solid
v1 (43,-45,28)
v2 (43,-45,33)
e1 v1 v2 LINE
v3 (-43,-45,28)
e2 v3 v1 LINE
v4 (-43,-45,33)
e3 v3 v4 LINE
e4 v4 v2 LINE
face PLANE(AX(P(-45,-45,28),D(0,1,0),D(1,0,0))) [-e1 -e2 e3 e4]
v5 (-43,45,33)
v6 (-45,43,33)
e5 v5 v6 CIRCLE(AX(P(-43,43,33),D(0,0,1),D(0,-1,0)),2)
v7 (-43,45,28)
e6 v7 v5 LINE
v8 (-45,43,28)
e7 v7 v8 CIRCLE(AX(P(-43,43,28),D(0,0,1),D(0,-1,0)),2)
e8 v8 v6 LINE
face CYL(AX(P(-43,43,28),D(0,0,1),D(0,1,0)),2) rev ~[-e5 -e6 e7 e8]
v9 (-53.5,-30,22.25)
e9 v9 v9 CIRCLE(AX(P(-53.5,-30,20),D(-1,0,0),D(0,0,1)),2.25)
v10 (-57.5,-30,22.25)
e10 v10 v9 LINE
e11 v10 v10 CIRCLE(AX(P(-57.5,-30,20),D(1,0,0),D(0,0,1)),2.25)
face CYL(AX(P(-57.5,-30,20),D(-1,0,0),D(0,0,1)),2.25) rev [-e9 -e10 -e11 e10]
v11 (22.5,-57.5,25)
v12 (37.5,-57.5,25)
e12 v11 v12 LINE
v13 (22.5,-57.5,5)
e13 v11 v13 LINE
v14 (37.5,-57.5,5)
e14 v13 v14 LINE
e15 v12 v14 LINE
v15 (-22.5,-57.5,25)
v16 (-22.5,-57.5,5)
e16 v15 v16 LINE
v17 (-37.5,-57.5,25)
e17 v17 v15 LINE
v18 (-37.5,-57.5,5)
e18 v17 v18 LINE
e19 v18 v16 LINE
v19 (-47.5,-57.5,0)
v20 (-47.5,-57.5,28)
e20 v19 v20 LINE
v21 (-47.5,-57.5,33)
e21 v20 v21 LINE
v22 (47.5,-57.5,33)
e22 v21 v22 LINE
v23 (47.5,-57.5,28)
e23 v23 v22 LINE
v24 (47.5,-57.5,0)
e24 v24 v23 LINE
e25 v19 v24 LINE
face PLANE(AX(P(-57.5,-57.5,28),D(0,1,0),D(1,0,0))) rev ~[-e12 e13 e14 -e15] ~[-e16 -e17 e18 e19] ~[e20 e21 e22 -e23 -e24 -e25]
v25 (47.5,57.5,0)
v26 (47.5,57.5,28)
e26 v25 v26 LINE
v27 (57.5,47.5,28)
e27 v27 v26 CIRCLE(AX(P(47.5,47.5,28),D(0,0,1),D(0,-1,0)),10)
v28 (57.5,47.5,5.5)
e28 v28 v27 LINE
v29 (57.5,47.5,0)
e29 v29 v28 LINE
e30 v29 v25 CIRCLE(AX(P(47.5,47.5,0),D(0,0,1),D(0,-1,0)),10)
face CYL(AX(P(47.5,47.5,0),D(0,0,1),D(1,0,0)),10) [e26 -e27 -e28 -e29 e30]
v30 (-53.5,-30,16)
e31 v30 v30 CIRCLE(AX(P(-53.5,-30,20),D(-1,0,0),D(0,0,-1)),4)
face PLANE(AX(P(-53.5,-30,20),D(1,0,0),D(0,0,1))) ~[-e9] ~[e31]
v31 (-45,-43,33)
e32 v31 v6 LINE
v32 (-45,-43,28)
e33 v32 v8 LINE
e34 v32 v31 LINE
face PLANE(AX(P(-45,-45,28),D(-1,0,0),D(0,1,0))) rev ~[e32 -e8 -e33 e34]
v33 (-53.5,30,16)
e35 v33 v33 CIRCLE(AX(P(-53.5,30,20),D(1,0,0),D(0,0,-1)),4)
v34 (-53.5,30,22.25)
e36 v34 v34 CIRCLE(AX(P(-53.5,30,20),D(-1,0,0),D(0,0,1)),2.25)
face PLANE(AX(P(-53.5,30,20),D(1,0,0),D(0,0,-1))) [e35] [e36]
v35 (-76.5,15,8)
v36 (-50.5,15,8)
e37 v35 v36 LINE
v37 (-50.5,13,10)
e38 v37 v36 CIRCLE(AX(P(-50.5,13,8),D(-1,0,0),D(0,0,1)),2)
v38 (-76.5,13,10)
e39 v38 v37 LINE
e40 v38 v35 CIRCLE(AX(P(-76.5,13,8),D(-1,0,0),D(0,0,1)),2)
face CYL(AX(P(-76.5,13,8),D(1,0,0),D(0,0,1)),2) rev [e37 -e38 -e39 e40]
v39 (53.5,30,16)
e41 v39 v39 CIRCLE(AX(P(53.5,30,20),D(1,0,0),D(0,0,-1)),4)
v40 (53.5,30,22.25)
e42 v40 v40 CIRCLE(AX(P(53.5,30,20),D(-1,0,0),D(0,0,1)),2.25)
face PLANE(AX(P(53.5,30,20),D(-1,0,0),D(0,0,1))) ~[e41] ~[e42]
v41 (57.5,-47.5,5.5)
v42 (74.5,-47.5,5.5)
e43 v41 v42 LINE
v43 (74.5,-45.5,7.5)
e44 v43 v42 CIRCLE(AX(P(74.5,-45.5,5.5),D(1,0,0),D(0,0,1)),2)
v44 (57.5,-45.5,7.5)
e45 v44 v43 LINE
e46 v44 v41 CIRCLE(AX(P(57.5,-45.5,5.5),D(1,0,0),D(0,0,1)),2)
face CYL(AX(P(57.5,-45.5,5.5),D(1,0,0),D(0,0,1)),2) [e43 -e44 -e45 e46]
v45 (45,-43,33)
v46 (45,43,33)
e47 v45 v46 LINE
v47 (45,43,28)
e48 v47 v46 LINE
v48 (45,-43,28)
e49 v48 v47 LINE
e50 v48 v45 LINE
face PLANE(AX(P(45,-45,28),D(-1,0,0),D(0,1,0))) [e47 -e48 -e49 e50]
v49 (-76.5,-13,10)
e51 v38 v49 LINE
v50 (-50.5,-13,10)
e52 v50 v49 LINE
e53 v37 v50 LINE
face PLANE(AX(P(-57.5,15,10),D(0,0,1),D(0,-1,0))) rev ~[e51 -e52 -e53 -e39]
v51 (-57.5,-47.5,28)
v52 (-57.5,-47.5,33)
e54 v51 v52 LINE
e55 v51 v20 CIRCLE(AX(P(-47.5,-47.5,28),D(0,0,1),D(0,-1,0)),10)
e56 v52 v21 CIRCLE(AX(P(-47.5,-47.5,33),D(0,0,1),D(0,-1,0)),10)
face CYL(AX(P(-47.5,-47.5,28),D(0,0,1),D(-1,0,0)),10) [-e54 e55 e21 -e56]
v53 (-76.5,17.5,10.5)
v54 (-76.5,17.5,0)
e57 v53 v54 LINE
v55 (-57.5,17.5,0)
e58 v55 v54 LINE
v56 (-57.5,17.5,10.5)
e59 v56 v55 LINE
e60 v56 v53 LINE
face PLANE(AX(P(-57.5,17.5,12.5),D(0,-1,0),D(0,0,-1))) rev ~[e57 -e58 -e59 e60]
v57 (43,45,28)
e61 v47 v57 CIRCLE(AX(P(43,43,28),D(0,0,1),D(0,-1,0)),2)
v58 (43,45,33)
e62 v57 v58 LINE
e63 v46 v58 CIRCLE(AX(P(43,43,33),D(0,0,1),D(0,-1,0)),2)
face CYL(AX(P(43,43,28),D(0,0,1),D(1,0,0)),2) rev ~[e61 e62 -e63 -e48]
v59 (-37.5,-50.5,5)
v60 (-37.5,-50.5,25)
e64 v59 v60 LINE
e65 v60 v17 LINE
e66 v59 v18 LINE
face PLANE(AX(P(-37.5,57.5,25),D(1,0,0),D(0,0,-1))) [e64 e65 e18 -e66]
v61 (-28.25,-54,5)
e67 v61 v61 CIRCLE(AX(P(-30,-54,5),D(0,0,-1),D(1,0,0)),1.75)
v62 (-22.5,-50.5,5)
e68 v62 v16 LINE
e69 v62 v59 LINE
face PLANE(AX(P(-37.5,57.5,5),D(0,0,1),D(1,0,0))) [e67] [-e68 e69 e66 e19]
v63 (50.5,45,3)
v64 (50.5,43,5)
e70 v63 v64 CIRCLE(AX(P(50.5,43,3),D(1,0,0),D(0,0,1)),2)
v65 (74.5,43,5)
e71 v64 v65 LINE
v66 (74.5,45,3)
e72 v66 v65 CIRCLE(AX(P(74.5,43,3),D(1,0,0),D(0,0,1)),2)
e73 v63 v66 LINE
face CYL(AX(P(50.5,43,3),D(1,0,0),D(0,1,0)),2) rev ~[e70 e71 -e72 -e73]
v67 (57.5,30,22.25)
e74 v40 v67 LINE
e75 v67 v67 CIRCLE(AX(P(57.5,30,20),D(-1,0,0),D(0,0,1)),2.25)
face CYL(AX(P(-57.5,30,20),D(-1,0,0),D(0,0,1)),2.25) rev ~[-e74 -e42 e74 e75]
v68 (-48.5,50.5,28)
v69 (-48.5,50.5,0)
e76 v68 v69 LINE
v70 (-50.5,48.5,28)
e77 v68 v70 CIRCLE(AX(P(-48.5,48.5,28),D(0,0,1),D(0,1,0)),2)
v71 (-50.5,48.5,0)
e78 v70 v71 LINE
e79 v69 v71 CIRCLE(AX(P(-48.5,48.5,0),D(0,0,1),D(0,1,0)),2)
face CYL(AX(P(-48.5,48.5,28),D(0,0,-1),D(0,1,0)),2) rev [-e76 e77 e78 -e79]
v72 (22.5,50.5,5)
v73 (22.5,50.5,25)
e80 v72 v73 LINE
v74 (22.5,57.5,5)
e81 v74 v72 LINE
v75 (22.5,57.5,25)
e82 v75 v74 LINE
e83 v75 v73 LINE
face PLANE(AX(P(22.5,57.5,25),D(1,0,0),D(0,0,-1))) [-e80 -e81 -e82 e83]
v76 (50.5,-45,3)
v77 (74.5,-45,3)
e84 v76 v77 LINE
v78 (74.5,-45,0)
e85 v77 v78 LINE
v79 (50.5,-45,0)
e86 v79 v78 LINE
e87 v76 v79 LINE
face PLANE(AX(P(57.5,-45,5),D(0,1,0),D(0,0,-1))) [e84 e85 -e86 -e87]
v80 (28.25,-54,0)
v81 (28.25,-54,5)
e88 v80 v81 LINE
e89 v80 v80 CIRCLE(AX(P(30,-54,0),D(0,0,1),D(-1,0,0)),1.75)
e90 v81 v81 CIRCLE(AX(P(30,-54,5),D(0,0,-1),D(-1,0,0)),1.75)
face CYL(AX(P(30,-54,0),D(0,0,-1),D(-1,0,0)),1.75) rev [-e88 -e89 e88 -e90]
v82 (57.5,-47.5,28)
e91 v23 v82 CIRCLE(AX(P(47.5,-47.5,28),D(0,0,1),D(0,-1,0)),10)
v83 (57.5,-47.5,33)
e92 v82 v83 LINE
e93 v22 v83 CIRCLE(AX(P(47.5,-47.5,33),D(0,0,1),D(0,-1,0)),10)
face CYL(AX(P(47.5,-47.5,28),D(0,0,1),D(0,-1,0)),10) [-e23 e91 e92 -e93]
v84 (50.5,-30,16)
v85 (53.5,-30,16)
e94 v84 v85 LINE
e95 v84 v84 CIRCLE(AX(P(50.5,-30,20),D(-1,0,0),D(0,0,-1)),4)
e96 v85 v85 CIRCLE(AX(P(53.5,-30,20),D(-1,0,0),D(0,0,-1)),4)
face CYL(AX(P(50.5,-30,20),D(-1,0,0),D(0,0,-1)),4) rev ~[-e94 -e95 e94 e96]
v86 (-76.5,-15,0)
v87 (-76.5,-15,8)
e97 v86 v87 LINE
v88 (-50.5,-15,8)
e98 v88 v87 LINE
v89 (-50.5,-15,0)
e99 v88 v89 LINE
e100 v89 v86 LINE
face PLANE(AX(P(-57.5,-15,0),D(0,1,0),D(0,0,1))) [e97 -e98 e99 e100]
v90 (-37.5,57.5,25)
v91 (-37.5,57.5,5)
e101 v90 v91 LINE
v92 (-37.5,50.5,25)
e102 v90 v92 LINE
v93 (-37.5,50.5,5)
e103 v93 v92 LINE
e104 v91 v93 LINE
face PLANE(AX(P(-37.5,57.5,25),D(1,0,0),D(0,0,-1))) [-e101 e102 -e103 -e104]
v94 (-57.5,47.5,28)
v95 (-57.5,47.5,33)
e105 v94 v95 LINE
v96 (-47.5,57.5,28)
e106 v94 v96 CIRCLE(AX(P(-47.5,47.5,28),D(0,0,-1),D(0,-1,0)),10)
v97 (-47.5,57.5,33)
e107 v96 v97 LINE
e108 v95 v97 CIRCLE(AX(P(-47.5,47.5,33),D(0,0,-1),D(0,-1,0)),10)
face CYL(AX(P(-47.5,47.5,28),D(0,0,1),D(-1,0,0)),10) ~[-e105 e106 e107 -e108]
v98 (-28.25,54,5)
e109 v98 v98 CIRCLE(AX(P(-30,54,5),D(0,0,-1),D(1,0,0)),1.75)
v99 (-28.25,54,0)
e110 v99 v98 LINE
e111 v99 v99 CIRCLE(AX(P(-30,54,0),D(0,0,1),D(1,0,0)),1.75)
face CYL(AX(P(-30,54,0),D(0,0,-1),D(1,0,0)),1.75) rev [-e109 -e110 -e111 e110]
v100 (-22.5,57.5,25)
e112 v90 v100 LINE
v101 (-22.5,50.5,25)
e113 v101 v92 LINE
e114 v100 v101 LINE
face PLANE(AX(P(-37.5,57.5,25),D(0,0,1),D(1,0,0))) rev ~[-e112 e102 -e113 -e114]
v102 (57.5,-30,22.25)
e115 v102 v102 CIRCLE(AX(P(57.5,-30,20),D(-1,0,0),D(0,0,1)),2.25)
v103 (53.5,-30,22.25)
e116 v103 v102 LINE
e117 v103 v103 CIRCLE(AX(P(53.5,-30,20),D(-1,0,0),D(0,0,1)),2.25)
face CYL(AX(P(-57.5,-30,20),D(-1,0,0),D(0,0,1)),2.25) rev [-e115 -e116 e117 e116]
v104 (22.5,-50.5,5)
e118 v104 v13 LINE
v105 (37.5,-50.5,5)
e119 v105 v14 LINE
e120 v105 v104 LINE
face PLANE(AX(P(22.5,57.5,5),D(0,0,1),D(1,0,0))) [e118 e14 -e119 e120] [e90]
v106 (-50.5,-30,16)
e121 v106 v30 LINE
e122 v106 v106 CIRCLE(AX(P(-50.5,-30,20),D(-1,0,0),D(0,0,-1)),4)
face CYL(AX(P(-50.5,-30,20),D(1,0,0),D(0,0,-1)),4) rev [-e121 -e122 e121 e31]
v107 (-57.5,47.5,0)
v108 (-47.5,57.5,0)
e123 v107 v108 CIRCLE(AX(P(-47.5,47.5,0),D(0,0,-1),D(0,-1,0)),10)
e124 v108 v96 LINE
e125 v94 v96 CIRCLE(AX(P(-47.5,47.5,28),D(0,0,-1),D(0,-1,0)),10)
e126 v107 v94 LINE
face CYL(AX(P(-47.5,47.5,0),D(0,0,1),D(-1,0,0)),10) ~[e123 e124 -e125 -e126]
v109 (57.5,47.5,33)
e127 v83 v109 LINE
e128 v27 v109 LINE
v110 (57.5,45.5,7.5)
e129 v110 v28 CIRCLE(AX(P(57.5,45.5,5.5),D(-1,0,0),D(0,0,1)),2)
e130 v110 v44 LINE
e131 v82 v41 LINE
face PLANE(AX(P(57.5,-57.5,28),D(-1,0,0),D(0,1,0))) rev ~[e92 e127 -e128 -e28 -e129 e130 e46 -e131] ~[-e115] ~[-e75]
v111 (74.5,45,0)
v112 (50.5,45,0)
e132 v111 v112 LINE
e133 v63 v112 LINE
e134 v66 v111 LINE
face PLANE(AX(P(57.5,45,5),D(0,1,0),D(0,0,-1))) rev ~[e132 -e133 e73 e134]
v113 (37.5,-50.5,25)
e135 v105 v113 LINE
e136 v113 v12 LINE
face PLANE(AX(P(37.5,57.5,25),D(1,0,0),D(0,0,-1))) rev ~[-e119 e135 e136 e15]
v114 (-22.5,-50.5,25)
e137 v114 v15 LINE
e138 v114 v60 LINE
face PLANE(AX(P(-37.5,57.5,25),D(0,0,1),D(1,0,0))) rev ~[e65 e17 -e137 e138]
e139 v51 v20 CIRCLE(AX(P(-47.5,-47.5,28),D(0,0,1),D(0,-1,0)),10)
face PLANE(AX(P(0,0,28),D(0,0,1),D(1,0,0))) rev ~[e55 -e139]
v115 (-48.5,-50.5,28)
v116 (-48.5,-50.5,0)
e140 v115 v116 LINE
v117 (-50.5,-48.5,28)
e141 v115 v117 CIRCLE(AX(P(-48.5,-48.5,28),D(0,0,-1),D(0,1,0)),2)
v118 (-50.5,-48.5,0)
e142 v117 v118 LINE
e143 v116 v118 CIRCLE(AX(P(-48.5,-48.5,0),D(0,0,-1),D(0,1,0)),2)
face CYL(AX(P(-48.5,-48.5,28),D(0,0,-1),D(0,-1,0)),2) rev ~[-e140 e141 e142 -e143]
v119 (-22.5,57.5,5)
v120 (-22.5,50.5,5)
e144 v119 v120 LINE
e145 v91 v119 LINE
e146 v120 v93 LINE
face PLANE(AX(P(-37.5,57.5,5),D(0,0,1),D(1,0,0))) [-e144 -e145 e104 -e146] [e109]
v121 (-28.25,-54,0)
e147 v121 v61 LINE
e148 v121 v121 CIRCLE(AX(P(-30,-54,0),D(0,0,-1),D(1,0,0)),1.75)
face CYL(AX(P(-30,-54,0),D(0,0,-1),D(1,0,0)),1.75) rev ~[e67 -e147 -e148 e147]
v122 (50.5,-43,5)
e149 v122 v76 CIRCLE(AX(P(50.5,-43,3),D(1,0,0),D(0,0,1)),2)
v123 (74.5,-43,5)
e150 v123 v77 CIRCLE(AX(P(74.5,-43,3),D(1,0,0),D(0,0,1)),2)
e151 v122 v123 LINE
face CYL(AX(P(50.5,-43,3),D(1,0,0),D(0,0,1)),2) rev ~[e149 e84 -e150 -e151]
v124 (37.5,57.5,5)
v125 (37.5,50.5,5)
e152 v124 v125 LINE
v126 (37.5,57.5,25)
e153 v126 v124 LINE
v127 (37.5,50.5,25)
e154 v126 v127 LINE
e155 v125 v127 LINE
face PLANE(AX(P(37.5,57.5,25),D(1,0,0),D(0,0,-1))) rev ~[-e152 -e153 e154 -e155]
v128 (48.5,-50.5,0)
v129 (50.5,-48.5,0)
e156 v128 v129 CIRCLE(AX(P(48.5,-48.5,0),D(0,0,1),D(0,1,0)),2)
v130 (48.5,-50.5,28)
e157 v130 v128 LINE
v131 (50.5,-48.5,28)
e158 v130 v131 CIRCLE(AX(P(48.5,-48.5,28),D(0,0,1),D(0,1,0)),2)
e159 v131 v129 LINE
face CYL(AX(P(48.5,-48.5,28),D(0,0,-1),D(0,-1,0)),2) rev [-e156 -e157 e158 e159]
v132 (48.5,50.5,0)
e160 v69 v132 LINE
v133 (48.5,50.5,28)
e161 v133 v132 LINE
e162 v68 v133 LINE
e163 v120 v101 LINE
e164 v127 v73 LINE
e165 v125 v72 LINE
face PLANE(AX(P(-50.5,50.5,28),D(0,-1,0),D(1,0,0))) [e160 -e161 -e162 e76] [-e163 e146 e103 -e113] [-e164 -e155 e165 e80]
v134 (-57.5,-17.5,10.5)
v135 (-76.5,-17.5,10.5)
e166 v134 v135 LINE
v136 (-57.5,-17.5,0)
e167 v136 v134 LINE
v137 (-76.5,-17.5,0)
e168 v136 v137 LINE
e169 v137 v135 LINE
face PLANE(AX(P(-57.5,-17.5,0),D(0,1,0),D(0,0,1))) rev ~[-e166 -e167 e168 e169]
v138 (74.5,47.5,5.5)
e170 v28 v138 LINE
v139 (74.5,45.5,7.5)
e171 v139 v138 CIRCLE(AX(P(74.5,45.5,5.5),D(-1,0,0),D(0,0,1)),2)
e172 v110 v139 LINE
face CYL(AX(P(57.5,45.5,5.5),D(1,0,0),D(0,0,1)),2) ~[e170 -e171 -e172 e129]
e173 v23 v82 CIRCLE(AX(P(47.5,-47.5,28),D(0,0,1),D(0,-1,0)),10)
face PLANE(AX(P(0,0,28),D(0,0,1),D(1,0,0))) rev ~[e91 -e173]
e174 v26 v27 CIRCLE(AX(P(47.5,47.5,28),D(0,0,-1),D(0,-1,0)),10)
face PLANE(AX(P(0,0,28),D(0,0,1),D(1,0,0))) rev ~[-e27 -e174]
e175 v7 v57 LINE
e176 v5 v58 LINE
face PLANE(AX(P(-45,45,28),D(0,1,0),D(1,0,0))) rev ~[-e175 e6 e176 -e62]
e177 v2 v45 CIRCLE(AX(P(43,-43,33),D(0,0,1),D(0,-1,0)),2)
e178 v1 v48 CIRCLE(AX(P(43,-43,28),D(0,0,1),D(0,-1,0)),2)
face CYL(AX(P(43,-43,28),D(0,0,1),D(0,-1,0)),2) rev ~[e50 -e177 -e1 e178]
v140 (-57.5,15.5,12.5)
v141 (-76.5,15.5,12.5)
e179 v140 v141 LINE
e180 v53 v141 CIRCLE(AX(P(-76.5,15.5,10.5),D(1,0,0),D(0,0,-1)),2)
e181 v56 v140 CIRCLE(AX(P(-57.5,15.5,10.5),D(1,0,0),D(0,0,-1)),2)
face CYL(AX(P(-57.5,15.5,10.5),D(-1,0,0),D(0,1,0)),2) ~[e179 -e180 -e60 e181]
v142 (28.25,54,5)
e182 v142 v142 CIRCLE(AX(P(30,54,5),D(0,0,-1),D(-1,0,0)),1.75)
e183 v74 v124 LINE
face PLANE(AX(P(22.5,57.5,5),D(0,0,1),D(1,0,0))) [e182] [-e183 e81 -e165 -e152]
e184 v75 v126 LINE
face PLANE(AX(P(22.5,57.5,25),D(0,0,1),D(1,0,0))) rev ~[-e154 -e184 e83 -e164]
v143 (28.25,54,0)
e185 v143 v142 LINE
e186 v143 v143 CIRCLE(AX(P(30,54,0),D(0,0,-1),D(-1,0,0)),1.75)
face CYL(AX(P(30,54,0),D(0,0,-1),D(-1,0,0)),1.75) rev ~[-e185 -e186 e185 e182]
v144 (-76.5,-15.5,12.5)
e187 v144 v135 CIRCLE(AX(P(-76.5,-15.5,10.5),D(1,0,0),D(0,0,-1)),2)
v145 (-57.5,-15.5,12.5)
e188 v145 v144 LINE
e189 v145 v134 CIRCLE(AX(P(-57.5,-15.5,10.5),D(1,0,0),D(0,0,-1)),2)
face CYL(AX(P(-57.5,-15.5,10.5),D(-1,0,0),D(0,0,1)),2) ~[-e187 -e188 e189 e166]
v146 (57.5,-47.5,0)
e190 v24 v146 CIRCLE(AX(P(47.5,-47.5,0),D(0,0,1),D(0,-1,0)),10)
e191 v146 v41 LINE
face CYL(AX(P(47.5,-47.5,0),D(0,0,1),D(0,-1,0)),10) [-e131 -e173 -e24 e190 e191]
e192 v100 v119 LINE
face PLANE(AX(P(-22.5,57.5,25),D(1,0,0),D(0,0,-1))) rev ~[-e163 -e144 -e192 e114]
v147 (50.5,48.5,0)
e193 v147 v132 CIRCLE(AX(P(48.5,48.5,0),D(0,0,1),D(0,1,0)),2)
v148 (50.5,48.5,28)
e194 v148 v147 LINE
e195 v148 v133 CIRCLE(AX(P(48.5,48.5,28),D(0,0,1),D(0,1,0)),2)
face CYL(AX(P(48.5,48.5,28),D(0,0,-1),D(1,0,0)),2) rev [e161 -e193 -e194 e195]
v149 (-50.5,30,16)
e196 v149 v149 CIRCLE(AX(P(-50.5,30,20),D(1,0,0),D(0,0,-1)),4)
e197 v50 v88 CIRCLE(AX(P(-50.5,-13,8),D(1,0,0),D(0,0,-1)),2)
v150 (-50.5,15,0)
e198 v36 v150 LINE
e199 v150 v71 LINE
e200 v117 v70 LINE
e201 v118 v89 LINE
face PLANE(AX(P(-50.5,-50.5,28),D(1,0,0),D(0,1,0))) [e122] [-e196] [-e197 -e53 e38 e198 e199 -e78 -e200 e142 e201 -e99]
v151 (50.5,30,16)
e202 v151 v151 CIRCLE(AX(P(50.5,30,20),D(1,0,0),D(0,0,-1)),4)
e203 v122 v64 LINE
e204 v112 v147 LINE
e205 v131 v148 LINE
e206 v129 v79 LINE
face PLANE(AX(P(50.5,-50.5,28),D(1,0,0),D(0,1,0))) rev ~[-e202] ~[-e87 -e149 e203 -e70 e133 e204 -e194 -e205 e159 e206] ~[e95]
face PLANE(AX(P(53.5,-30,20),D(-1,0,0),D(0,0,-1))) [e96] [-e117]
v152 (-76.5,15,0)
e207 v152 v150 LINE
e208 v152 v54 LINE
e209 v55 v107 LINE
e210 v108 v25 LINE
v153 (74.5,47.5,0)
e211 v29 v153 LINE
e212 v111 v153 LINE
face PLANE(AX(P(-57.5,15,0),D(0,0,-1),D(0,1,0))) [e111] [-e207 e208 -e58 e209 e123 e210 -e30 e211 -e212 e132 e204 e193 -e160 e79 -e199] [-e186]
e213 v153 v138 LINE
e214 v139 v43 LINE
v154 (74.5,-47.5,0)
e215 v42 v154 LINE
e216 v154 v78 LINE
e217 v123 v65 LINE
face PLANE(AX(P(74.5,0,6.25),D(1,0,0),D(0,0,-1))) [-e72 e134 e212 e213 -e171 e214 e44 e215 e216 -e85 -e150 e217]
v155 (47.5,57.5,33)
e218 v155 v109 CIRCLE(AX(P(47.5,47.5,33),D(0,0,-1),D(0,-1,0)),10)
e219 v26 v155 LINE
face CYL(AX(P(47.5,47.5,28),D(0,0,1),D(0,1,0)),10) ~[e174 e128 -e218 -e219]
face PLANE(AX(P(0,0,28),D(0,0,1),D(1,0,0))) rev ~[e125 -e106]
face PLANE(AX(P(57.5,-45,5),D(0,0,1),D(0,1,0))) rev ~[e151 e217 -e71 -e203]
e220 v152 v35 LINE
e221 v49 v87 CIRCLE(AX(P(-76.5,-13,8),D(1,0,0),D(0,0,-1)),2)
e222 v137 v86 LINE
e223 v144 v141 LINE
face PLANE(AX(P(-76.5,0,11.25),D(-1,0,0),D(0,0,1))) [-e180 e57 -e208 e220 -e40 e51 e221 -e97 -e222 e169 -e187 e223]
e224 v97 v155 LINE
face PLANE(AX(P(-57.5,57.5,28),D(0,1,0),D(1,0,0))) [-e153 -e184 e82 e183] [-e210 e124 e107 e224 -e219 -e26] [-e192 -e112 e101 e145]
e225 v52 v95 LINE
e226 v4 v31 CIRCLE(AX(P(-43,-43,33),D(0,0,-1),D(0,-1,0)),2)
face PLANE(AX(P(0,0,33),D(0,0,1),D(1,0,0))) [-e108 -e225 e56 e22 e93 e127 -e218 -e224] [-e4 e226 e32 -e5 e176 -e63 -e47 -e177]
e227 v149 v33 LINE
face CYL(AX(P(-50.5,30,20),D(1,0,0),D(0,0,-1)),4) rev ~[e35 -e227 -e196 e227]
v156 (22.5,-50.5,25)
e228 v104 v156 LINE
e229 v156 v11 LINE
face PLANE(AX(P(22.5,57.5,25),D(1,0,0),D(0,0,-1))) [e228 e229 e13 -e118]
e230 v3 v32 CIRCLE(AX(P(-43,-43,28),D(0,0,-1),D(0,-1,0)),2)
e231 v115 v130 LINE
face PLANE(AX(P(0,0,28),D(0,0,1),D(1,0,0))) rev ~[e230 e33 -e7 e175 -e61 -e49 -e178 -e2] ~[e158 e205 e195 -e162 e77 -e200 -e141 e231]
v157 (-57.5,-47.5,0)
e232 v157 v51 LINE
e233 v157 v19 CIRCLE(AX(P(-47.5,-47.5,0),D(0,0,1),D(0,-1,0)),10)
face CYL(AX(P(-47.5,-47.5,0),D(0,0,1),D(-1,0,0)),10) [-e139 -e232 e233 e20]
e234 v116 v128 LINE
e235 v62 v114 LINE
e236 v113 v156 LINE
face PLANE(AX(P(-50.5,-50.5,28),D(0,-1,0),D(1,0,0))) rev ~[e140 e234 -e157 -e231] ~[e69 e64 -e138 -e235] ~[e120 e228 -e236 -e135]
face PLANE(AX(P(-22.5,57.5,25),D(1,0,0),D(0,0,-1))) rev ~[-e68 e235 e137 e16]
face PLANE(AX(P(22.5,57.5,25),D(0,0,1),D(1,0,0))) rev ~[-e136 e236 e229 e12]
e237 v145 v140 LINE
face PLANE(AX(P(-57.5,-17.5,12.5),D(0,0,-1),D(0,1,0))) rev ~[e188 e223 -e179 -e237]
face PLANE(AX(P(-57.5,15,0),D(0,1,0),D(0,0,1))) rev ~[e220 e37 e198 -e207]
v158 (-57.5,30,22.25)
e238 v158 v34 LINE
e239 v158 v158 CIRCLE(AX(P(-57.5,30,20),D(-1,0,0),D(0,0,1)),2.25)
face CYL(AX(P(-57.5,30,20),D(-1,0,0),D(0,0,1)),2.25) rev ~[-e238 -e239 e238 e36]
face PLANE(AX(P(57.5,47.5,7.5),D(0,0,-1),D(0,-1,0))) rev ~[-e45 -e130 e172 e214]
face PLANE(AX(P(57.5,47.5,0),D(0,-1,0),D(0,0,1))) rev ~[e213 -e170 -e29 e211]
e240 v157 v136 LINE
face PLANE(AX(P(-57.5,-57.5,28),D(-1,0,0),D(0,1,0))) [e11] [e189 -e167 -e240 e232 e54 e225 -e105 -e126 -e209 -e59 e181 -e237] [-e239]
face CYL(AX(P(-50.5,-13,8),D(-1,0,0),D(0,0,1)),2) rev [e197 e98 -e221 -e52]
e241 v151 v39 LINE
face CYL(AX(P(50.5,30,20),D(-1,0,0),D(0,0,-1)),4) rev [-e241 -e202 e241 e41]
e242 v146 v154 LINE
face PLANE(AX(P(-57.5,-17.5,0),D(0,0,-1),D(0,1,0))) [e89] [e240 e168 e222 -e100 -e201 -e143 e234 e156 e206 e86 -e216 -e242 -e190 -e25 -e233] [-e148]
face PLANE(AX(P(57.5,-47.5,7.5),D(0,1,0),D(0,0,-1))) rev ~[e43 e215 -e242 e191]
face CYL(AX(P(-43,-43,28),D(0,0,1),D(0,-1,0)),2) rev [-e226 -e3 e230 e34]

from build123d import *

# Parameters (mm, degrees)
SKETCH1_W                                  = 115
SKETCH1_H                                  = 115
BOSS_EXTRUDE1_DEPTH                        = 28
FILLET1_R                                  = 10
SKETCH2_W                                  = 101
SKETCH2_H                                  = 101
CUT_EXTRUDE1_DEPTH                         = 30
FILLET2_R                                  = 2
SKETCH3_W                                  = 10
SKETCH3_H                                  = 90
CUT_EXTRUDE2_DEPTH                         = 30
SKETCH4_W                                  = 5
SKETCH4_H                                  = 2.5
BOSS_EXTRUDE2_DEPTH                        = 17
FILLET3_R                                  = 2
SKETCH5_W                                  = 20
SKETCH5_H                                  = 30
CUT_EXTRUDE3_DEPTH                         = 22
SKETCH6_W                                  = 10
SKETCH6_H                                  = 2.5
BOSS_EXTRUDE3_DEPTH                        = 19
FILLET4_R                                  = 2
SKETCH7_W                                  = 15
SKETCH7_H                                  = 20
CUT_EXTRUDE4_DEPTH                         = 120
SKETCH9_R                                  = 1.75
CUT_EXTRUDE6_DEPTH                         = 10
MIRROR2_AT_THE_SECOND_PLANE_COPY_1_SKETC_R = 1.75
MIRROR2_AT_THE_SECOND_PLANE_COPY_1_DEPTH   = 10
SKETCH11_R                                 = 2.25
CUT_EXTRUDE7_DEPTH                         = 125
SKETCH12_R                                 = 4
CUT_EXTRUDE8_DEPTH                         = 3
MIRROR4_AT_THE_SECOND_PLANE_COPY_1_SKETC_R = 4
MIRROR4_AT_THE_SECOND_PLANE_COPY_1_DEPTH   = 3
SKETCH14_W                                 = 115
SKETCH14_H                                 = 115
SKETCH14_W_2                               = 90
SKETCH14_H_2                               = 90
BOSS_EXTRUDE4_DEPTH                        = 5
FILLET5_R                                  = 10
FILLET6_R                                  = 2


with BuildPart() as part:
    # Sketch1 → Boss-Extrude1 (new body)
    with BuildSketch(Plane.XY):
        Rectangle(SKETCH1_W, SKETCH1_H)
    extrude(amount=BOSS_EXTRUDE1_DEPTH)

    # Fillet1
    fillet1_edges = [part.edges().sort_by_distance(p)[0] for p in [
        (-57.5, 57.5, 14),
        (57.5, 57.5, 14),
        (57.5, -57.5, 14),
        (-57.5, -57.5, 14),
    ]]
    fillet(fillet1_edges, radius=FILLET1_R)

    # Sketch2 → Cut-Extrude1 (cut)
    with BuildSketch(Plane.XY.offset(28)):
        Rectangle(SKETCH2_W, SKETCH2_H)
    extrude(amount=-CUT_EXTRUDE1_DEPTH, mode=Mode.SUBTRACT)

    # Fillet2
    fillet2_edges = [part.edges().sort_by_distance(p)[0] for p in [
        (-50.5, -50.5, 14),
        (-50.5, 50.5, 14),
        (50.5, 50.5, 14),
        (50.5, -50.5, 14),
    ]]
    fillet(fillet2_edges, radius=FILLET2_R)

    # Sketch3 → Cut-Extrude2 (cut)
    with BuildSketch(Plane(origin=(57.5, 0, 0), x_dir=(0, 0, -1), z_dir=(1, 0, 0))):
        Rectangle(SKETCH3_W, SKETCH3_H)
    extrude(amount=-CUT_EXTRUDE2_DEPTH, mode=Mode.SUBTRACT)

    # Sketch4 → Boss-Extrude2 (add)
    with BuildSketch(Plane(origin=(57.5, 0, 0), x_dir=(0, 0, -1), z_dir=(1, 0, 0))):
        Polygon((-5, -45), (-5, 45), (-5, 47.5), (-7.5, 47.5), (-7.5, -47.5), (-5, -47.5), align=None)
        with Locations((-2.5, 46.25)):
            Rectangle(SKETCH4_W, SKETCH4_H)
        with Locations((-2.5, -46.25)):
            Rectangle(SKETCH4_W, SKETCH4_H)
    extrude(amount=BOSS_EXTRUDE2_DEPTH)

    # Fillet3
    fillet3_edges = [part.edges().sort_by_distance(p)[0] for p in [
        (66, 47.5, 7.5),
        (66, -47.5, 7.5),
        (62.5, -45, 5),
        (62.5, 45, 5),
    ]]
    fillet(fillet3_edges, radius=FILLET3_R)

    # Sketch5 → Cut-Extrude3 (cut)
    with BuildSketch(Plane.ZY.offset(57.5)):
        Rectangle(SKETCH5_W, SKETCH5_H)
    extrude(amount=-CUT_EXTRUDE3_DEPTH, mode=Mode.SUBTRACT)

    # Sketch6 → Boss-Extrude3 (add)
    with BuildSketch(Plane.ZY.offset(57.5)):
        Polygon((10, 17.5), (10, 15), (10, -15), (10, -17.5), (12.5, -17.5), (12.5, 17.5), align=None)
        with Locations((5, 16.25)):
            Rectangle(SKETCH6_W, SKETCH6_H)
        with Locations((5, -16.25)):
            Rectangle(SKETCH6_W, SKETCH6_H)
    extrude(amount=BOSS_EXTRUDE3_DEPTH)

    # Fillet4
    fillet4_edges = [part.edges().sort_by_distance(p)[0] for p in [
        (-63.5, 15, 10),
        (-63.5, -15, 10),
        (-67, -17.5, 12.5),
        (-67, 17.5, 12.5),
    ]]
    fillet(fillet4_edges, radius=FILLET4_R)

    # Sketch7 → Cut-Extrude4 (cut)
    with BuildSketch(Plane(origin=(0, 57.5, 0), x_dir=(1, 0, 0), z_dir=(0, 1, 0))):
        with Locations((-30, -15)):
            Rectangle(SKETCH7_W, SKETCH7_H)
        with Locations((30, -15)):
            Rectangle(SKETCH7_W, SKETCH7_H)
    extrude(amount=-CUT_EXTRUDE4_DEPTH, mode=Mode.SUBTRACT)

    # Sketch9 → Cut-Extrude6 (cut)
    with BuildSketch(Plane(origin=(0, 0, 0), x_dir=(-1, 0, 0), z_dir=(0, 0, -1))):
        with Locations((-30, 54)):
            Circle(SKETCH9_R)
    cut_extrude6 = extrude(amount=-CUT_EXTRUDE6_DEPTH, mode=Mode.SUBTRACT)

    # Mirror2: Cut-Extrude6 across plane
    add(cut_extrude6.mirror(Plane(origin=(0, 0, 0), x_dir=(0, 0, 1), z_dir=(1, 0, 0))), mode=Mode.SUBTRACT)

    # Mirror2 at the second plane: Cut-Extrude6 across plane
    add(cut_extrude6.mirror(Plane.ZX), mode=Mode.SUBTRACT)

    # Mirror2 at the second plane copy 1 sketc → Mirror2 at the second plane copy 1 (cut)
    with BuildSketch(Plane(origin=(0, 0, 0), x_dir=(1, 0, 0), z_dir=(0, 0, -1))):
        with Locations((-30, 54)):
            Circle(MIRROR2_AT_THE_SECOND_PLANE_COPY_1_SKETC_R)
    extrude(amount=-MIRROR2_AT_THE_SECOND_PLANE_COPY_1_DEPTH, mode=Mode.SUBTRACT)

    # Sketch11 → Cut-Extrude7 (cut)
    with BuildSketch(Plane.ZY.offset(57.5)):
        with Locations((20, 30)):
            Circle(SKETCH11_R)
    cut_extrude7 = extrude(amount=-CUT_EXTRUDE7_DEPTH, mode=Mode.SUBTRACT)

    # Mirror3: Cut-Extrude7 across plane
    add(cut_extrude7.mirror(Plane.ZX), mode=Mode.SUBTRACT)

    # Sketch12 → Cut-Extrude8 (cut)
    with BuildSketch(Plane(origin=(-50.5, 0, 0), x_dir=(0, 0, -1), z_dir=(1, 0, 0))):
        with Locations((-20, 30)):
            Circle(SKETCH12_R)
    cut_extrude8 = extrude(amount=-CUT_EXTRUDE8_DEPTH, mode=Mode.SUBTRACT)

    # Mirror4: Cut-Extrude8 across plane
    add(cut_extrude8.mirror(Plane(origin=(0, 0, 0), x_dir=(0, 0, 1), z_dir=(1, 0, 0))), mode=Mode.SUBTRACT)

    # Mirror4 at the second plane: Cut-Extrude8 across plane
    add(cut_extrude8.mirror(Plane.ZX), mode=Mode.SUBTRACT)

    # Mirror4 at the second plane copy 1 sketc → Mirror4 at the second plane copy 1 (cut)
    with BuildSketch(Plane(origin=(50.5, 0, 0), x_dir=(0, 0, -1), z_dir=(-1, 0, 0))):
        with Locations((-20, 30)):
            Circle(MIRROR4_AT_THE_SECOND_PLANE_COPY_1_SKETC_R)
    extrude(amount=-MIRROR4_AT_THE_SECOND_PLANE_COPY_1_DEPTH, mode=Mode.SUBTRACT)

    # Sketch14 → Boss-Extrude4 (add)
    with BuildSketch(Plane.XY.offset(28)):
        Rectangle(SKETCH14_W, SKETCH14_H)
        Rectangle(SKETCH14_W_2, SKETCH14_H_2, mode=Mode.SUBTRACT)
    extrude(amount=BOSS_EXTRUDE4_DEPTH)

    # Fillet5
    fillet5_edges = [part.edges().sort_by_distance(p)[0] for p in [
        (-57.5, -57.5, 30.5),
        (57.5, -57.5, 30.5),
        (-57.5, 57.5, 30.5),
        (57.5, 57.5, 30.5),
    ]]
    fillet(fillet5_edges, radius=FILLET5_R)

    # Fillet6
    fillet6_edges = [part.edges().sort_by_distance(p)[0] for p in [
        (-45, -45, 30.5),
        (45, -45, 30.5),
        (45, 45, 30.5),
        (-45, 45, 30.5),
    ]]
    fillet(fillet6_edges, radius=FILLET6_R)


solid = part.part
